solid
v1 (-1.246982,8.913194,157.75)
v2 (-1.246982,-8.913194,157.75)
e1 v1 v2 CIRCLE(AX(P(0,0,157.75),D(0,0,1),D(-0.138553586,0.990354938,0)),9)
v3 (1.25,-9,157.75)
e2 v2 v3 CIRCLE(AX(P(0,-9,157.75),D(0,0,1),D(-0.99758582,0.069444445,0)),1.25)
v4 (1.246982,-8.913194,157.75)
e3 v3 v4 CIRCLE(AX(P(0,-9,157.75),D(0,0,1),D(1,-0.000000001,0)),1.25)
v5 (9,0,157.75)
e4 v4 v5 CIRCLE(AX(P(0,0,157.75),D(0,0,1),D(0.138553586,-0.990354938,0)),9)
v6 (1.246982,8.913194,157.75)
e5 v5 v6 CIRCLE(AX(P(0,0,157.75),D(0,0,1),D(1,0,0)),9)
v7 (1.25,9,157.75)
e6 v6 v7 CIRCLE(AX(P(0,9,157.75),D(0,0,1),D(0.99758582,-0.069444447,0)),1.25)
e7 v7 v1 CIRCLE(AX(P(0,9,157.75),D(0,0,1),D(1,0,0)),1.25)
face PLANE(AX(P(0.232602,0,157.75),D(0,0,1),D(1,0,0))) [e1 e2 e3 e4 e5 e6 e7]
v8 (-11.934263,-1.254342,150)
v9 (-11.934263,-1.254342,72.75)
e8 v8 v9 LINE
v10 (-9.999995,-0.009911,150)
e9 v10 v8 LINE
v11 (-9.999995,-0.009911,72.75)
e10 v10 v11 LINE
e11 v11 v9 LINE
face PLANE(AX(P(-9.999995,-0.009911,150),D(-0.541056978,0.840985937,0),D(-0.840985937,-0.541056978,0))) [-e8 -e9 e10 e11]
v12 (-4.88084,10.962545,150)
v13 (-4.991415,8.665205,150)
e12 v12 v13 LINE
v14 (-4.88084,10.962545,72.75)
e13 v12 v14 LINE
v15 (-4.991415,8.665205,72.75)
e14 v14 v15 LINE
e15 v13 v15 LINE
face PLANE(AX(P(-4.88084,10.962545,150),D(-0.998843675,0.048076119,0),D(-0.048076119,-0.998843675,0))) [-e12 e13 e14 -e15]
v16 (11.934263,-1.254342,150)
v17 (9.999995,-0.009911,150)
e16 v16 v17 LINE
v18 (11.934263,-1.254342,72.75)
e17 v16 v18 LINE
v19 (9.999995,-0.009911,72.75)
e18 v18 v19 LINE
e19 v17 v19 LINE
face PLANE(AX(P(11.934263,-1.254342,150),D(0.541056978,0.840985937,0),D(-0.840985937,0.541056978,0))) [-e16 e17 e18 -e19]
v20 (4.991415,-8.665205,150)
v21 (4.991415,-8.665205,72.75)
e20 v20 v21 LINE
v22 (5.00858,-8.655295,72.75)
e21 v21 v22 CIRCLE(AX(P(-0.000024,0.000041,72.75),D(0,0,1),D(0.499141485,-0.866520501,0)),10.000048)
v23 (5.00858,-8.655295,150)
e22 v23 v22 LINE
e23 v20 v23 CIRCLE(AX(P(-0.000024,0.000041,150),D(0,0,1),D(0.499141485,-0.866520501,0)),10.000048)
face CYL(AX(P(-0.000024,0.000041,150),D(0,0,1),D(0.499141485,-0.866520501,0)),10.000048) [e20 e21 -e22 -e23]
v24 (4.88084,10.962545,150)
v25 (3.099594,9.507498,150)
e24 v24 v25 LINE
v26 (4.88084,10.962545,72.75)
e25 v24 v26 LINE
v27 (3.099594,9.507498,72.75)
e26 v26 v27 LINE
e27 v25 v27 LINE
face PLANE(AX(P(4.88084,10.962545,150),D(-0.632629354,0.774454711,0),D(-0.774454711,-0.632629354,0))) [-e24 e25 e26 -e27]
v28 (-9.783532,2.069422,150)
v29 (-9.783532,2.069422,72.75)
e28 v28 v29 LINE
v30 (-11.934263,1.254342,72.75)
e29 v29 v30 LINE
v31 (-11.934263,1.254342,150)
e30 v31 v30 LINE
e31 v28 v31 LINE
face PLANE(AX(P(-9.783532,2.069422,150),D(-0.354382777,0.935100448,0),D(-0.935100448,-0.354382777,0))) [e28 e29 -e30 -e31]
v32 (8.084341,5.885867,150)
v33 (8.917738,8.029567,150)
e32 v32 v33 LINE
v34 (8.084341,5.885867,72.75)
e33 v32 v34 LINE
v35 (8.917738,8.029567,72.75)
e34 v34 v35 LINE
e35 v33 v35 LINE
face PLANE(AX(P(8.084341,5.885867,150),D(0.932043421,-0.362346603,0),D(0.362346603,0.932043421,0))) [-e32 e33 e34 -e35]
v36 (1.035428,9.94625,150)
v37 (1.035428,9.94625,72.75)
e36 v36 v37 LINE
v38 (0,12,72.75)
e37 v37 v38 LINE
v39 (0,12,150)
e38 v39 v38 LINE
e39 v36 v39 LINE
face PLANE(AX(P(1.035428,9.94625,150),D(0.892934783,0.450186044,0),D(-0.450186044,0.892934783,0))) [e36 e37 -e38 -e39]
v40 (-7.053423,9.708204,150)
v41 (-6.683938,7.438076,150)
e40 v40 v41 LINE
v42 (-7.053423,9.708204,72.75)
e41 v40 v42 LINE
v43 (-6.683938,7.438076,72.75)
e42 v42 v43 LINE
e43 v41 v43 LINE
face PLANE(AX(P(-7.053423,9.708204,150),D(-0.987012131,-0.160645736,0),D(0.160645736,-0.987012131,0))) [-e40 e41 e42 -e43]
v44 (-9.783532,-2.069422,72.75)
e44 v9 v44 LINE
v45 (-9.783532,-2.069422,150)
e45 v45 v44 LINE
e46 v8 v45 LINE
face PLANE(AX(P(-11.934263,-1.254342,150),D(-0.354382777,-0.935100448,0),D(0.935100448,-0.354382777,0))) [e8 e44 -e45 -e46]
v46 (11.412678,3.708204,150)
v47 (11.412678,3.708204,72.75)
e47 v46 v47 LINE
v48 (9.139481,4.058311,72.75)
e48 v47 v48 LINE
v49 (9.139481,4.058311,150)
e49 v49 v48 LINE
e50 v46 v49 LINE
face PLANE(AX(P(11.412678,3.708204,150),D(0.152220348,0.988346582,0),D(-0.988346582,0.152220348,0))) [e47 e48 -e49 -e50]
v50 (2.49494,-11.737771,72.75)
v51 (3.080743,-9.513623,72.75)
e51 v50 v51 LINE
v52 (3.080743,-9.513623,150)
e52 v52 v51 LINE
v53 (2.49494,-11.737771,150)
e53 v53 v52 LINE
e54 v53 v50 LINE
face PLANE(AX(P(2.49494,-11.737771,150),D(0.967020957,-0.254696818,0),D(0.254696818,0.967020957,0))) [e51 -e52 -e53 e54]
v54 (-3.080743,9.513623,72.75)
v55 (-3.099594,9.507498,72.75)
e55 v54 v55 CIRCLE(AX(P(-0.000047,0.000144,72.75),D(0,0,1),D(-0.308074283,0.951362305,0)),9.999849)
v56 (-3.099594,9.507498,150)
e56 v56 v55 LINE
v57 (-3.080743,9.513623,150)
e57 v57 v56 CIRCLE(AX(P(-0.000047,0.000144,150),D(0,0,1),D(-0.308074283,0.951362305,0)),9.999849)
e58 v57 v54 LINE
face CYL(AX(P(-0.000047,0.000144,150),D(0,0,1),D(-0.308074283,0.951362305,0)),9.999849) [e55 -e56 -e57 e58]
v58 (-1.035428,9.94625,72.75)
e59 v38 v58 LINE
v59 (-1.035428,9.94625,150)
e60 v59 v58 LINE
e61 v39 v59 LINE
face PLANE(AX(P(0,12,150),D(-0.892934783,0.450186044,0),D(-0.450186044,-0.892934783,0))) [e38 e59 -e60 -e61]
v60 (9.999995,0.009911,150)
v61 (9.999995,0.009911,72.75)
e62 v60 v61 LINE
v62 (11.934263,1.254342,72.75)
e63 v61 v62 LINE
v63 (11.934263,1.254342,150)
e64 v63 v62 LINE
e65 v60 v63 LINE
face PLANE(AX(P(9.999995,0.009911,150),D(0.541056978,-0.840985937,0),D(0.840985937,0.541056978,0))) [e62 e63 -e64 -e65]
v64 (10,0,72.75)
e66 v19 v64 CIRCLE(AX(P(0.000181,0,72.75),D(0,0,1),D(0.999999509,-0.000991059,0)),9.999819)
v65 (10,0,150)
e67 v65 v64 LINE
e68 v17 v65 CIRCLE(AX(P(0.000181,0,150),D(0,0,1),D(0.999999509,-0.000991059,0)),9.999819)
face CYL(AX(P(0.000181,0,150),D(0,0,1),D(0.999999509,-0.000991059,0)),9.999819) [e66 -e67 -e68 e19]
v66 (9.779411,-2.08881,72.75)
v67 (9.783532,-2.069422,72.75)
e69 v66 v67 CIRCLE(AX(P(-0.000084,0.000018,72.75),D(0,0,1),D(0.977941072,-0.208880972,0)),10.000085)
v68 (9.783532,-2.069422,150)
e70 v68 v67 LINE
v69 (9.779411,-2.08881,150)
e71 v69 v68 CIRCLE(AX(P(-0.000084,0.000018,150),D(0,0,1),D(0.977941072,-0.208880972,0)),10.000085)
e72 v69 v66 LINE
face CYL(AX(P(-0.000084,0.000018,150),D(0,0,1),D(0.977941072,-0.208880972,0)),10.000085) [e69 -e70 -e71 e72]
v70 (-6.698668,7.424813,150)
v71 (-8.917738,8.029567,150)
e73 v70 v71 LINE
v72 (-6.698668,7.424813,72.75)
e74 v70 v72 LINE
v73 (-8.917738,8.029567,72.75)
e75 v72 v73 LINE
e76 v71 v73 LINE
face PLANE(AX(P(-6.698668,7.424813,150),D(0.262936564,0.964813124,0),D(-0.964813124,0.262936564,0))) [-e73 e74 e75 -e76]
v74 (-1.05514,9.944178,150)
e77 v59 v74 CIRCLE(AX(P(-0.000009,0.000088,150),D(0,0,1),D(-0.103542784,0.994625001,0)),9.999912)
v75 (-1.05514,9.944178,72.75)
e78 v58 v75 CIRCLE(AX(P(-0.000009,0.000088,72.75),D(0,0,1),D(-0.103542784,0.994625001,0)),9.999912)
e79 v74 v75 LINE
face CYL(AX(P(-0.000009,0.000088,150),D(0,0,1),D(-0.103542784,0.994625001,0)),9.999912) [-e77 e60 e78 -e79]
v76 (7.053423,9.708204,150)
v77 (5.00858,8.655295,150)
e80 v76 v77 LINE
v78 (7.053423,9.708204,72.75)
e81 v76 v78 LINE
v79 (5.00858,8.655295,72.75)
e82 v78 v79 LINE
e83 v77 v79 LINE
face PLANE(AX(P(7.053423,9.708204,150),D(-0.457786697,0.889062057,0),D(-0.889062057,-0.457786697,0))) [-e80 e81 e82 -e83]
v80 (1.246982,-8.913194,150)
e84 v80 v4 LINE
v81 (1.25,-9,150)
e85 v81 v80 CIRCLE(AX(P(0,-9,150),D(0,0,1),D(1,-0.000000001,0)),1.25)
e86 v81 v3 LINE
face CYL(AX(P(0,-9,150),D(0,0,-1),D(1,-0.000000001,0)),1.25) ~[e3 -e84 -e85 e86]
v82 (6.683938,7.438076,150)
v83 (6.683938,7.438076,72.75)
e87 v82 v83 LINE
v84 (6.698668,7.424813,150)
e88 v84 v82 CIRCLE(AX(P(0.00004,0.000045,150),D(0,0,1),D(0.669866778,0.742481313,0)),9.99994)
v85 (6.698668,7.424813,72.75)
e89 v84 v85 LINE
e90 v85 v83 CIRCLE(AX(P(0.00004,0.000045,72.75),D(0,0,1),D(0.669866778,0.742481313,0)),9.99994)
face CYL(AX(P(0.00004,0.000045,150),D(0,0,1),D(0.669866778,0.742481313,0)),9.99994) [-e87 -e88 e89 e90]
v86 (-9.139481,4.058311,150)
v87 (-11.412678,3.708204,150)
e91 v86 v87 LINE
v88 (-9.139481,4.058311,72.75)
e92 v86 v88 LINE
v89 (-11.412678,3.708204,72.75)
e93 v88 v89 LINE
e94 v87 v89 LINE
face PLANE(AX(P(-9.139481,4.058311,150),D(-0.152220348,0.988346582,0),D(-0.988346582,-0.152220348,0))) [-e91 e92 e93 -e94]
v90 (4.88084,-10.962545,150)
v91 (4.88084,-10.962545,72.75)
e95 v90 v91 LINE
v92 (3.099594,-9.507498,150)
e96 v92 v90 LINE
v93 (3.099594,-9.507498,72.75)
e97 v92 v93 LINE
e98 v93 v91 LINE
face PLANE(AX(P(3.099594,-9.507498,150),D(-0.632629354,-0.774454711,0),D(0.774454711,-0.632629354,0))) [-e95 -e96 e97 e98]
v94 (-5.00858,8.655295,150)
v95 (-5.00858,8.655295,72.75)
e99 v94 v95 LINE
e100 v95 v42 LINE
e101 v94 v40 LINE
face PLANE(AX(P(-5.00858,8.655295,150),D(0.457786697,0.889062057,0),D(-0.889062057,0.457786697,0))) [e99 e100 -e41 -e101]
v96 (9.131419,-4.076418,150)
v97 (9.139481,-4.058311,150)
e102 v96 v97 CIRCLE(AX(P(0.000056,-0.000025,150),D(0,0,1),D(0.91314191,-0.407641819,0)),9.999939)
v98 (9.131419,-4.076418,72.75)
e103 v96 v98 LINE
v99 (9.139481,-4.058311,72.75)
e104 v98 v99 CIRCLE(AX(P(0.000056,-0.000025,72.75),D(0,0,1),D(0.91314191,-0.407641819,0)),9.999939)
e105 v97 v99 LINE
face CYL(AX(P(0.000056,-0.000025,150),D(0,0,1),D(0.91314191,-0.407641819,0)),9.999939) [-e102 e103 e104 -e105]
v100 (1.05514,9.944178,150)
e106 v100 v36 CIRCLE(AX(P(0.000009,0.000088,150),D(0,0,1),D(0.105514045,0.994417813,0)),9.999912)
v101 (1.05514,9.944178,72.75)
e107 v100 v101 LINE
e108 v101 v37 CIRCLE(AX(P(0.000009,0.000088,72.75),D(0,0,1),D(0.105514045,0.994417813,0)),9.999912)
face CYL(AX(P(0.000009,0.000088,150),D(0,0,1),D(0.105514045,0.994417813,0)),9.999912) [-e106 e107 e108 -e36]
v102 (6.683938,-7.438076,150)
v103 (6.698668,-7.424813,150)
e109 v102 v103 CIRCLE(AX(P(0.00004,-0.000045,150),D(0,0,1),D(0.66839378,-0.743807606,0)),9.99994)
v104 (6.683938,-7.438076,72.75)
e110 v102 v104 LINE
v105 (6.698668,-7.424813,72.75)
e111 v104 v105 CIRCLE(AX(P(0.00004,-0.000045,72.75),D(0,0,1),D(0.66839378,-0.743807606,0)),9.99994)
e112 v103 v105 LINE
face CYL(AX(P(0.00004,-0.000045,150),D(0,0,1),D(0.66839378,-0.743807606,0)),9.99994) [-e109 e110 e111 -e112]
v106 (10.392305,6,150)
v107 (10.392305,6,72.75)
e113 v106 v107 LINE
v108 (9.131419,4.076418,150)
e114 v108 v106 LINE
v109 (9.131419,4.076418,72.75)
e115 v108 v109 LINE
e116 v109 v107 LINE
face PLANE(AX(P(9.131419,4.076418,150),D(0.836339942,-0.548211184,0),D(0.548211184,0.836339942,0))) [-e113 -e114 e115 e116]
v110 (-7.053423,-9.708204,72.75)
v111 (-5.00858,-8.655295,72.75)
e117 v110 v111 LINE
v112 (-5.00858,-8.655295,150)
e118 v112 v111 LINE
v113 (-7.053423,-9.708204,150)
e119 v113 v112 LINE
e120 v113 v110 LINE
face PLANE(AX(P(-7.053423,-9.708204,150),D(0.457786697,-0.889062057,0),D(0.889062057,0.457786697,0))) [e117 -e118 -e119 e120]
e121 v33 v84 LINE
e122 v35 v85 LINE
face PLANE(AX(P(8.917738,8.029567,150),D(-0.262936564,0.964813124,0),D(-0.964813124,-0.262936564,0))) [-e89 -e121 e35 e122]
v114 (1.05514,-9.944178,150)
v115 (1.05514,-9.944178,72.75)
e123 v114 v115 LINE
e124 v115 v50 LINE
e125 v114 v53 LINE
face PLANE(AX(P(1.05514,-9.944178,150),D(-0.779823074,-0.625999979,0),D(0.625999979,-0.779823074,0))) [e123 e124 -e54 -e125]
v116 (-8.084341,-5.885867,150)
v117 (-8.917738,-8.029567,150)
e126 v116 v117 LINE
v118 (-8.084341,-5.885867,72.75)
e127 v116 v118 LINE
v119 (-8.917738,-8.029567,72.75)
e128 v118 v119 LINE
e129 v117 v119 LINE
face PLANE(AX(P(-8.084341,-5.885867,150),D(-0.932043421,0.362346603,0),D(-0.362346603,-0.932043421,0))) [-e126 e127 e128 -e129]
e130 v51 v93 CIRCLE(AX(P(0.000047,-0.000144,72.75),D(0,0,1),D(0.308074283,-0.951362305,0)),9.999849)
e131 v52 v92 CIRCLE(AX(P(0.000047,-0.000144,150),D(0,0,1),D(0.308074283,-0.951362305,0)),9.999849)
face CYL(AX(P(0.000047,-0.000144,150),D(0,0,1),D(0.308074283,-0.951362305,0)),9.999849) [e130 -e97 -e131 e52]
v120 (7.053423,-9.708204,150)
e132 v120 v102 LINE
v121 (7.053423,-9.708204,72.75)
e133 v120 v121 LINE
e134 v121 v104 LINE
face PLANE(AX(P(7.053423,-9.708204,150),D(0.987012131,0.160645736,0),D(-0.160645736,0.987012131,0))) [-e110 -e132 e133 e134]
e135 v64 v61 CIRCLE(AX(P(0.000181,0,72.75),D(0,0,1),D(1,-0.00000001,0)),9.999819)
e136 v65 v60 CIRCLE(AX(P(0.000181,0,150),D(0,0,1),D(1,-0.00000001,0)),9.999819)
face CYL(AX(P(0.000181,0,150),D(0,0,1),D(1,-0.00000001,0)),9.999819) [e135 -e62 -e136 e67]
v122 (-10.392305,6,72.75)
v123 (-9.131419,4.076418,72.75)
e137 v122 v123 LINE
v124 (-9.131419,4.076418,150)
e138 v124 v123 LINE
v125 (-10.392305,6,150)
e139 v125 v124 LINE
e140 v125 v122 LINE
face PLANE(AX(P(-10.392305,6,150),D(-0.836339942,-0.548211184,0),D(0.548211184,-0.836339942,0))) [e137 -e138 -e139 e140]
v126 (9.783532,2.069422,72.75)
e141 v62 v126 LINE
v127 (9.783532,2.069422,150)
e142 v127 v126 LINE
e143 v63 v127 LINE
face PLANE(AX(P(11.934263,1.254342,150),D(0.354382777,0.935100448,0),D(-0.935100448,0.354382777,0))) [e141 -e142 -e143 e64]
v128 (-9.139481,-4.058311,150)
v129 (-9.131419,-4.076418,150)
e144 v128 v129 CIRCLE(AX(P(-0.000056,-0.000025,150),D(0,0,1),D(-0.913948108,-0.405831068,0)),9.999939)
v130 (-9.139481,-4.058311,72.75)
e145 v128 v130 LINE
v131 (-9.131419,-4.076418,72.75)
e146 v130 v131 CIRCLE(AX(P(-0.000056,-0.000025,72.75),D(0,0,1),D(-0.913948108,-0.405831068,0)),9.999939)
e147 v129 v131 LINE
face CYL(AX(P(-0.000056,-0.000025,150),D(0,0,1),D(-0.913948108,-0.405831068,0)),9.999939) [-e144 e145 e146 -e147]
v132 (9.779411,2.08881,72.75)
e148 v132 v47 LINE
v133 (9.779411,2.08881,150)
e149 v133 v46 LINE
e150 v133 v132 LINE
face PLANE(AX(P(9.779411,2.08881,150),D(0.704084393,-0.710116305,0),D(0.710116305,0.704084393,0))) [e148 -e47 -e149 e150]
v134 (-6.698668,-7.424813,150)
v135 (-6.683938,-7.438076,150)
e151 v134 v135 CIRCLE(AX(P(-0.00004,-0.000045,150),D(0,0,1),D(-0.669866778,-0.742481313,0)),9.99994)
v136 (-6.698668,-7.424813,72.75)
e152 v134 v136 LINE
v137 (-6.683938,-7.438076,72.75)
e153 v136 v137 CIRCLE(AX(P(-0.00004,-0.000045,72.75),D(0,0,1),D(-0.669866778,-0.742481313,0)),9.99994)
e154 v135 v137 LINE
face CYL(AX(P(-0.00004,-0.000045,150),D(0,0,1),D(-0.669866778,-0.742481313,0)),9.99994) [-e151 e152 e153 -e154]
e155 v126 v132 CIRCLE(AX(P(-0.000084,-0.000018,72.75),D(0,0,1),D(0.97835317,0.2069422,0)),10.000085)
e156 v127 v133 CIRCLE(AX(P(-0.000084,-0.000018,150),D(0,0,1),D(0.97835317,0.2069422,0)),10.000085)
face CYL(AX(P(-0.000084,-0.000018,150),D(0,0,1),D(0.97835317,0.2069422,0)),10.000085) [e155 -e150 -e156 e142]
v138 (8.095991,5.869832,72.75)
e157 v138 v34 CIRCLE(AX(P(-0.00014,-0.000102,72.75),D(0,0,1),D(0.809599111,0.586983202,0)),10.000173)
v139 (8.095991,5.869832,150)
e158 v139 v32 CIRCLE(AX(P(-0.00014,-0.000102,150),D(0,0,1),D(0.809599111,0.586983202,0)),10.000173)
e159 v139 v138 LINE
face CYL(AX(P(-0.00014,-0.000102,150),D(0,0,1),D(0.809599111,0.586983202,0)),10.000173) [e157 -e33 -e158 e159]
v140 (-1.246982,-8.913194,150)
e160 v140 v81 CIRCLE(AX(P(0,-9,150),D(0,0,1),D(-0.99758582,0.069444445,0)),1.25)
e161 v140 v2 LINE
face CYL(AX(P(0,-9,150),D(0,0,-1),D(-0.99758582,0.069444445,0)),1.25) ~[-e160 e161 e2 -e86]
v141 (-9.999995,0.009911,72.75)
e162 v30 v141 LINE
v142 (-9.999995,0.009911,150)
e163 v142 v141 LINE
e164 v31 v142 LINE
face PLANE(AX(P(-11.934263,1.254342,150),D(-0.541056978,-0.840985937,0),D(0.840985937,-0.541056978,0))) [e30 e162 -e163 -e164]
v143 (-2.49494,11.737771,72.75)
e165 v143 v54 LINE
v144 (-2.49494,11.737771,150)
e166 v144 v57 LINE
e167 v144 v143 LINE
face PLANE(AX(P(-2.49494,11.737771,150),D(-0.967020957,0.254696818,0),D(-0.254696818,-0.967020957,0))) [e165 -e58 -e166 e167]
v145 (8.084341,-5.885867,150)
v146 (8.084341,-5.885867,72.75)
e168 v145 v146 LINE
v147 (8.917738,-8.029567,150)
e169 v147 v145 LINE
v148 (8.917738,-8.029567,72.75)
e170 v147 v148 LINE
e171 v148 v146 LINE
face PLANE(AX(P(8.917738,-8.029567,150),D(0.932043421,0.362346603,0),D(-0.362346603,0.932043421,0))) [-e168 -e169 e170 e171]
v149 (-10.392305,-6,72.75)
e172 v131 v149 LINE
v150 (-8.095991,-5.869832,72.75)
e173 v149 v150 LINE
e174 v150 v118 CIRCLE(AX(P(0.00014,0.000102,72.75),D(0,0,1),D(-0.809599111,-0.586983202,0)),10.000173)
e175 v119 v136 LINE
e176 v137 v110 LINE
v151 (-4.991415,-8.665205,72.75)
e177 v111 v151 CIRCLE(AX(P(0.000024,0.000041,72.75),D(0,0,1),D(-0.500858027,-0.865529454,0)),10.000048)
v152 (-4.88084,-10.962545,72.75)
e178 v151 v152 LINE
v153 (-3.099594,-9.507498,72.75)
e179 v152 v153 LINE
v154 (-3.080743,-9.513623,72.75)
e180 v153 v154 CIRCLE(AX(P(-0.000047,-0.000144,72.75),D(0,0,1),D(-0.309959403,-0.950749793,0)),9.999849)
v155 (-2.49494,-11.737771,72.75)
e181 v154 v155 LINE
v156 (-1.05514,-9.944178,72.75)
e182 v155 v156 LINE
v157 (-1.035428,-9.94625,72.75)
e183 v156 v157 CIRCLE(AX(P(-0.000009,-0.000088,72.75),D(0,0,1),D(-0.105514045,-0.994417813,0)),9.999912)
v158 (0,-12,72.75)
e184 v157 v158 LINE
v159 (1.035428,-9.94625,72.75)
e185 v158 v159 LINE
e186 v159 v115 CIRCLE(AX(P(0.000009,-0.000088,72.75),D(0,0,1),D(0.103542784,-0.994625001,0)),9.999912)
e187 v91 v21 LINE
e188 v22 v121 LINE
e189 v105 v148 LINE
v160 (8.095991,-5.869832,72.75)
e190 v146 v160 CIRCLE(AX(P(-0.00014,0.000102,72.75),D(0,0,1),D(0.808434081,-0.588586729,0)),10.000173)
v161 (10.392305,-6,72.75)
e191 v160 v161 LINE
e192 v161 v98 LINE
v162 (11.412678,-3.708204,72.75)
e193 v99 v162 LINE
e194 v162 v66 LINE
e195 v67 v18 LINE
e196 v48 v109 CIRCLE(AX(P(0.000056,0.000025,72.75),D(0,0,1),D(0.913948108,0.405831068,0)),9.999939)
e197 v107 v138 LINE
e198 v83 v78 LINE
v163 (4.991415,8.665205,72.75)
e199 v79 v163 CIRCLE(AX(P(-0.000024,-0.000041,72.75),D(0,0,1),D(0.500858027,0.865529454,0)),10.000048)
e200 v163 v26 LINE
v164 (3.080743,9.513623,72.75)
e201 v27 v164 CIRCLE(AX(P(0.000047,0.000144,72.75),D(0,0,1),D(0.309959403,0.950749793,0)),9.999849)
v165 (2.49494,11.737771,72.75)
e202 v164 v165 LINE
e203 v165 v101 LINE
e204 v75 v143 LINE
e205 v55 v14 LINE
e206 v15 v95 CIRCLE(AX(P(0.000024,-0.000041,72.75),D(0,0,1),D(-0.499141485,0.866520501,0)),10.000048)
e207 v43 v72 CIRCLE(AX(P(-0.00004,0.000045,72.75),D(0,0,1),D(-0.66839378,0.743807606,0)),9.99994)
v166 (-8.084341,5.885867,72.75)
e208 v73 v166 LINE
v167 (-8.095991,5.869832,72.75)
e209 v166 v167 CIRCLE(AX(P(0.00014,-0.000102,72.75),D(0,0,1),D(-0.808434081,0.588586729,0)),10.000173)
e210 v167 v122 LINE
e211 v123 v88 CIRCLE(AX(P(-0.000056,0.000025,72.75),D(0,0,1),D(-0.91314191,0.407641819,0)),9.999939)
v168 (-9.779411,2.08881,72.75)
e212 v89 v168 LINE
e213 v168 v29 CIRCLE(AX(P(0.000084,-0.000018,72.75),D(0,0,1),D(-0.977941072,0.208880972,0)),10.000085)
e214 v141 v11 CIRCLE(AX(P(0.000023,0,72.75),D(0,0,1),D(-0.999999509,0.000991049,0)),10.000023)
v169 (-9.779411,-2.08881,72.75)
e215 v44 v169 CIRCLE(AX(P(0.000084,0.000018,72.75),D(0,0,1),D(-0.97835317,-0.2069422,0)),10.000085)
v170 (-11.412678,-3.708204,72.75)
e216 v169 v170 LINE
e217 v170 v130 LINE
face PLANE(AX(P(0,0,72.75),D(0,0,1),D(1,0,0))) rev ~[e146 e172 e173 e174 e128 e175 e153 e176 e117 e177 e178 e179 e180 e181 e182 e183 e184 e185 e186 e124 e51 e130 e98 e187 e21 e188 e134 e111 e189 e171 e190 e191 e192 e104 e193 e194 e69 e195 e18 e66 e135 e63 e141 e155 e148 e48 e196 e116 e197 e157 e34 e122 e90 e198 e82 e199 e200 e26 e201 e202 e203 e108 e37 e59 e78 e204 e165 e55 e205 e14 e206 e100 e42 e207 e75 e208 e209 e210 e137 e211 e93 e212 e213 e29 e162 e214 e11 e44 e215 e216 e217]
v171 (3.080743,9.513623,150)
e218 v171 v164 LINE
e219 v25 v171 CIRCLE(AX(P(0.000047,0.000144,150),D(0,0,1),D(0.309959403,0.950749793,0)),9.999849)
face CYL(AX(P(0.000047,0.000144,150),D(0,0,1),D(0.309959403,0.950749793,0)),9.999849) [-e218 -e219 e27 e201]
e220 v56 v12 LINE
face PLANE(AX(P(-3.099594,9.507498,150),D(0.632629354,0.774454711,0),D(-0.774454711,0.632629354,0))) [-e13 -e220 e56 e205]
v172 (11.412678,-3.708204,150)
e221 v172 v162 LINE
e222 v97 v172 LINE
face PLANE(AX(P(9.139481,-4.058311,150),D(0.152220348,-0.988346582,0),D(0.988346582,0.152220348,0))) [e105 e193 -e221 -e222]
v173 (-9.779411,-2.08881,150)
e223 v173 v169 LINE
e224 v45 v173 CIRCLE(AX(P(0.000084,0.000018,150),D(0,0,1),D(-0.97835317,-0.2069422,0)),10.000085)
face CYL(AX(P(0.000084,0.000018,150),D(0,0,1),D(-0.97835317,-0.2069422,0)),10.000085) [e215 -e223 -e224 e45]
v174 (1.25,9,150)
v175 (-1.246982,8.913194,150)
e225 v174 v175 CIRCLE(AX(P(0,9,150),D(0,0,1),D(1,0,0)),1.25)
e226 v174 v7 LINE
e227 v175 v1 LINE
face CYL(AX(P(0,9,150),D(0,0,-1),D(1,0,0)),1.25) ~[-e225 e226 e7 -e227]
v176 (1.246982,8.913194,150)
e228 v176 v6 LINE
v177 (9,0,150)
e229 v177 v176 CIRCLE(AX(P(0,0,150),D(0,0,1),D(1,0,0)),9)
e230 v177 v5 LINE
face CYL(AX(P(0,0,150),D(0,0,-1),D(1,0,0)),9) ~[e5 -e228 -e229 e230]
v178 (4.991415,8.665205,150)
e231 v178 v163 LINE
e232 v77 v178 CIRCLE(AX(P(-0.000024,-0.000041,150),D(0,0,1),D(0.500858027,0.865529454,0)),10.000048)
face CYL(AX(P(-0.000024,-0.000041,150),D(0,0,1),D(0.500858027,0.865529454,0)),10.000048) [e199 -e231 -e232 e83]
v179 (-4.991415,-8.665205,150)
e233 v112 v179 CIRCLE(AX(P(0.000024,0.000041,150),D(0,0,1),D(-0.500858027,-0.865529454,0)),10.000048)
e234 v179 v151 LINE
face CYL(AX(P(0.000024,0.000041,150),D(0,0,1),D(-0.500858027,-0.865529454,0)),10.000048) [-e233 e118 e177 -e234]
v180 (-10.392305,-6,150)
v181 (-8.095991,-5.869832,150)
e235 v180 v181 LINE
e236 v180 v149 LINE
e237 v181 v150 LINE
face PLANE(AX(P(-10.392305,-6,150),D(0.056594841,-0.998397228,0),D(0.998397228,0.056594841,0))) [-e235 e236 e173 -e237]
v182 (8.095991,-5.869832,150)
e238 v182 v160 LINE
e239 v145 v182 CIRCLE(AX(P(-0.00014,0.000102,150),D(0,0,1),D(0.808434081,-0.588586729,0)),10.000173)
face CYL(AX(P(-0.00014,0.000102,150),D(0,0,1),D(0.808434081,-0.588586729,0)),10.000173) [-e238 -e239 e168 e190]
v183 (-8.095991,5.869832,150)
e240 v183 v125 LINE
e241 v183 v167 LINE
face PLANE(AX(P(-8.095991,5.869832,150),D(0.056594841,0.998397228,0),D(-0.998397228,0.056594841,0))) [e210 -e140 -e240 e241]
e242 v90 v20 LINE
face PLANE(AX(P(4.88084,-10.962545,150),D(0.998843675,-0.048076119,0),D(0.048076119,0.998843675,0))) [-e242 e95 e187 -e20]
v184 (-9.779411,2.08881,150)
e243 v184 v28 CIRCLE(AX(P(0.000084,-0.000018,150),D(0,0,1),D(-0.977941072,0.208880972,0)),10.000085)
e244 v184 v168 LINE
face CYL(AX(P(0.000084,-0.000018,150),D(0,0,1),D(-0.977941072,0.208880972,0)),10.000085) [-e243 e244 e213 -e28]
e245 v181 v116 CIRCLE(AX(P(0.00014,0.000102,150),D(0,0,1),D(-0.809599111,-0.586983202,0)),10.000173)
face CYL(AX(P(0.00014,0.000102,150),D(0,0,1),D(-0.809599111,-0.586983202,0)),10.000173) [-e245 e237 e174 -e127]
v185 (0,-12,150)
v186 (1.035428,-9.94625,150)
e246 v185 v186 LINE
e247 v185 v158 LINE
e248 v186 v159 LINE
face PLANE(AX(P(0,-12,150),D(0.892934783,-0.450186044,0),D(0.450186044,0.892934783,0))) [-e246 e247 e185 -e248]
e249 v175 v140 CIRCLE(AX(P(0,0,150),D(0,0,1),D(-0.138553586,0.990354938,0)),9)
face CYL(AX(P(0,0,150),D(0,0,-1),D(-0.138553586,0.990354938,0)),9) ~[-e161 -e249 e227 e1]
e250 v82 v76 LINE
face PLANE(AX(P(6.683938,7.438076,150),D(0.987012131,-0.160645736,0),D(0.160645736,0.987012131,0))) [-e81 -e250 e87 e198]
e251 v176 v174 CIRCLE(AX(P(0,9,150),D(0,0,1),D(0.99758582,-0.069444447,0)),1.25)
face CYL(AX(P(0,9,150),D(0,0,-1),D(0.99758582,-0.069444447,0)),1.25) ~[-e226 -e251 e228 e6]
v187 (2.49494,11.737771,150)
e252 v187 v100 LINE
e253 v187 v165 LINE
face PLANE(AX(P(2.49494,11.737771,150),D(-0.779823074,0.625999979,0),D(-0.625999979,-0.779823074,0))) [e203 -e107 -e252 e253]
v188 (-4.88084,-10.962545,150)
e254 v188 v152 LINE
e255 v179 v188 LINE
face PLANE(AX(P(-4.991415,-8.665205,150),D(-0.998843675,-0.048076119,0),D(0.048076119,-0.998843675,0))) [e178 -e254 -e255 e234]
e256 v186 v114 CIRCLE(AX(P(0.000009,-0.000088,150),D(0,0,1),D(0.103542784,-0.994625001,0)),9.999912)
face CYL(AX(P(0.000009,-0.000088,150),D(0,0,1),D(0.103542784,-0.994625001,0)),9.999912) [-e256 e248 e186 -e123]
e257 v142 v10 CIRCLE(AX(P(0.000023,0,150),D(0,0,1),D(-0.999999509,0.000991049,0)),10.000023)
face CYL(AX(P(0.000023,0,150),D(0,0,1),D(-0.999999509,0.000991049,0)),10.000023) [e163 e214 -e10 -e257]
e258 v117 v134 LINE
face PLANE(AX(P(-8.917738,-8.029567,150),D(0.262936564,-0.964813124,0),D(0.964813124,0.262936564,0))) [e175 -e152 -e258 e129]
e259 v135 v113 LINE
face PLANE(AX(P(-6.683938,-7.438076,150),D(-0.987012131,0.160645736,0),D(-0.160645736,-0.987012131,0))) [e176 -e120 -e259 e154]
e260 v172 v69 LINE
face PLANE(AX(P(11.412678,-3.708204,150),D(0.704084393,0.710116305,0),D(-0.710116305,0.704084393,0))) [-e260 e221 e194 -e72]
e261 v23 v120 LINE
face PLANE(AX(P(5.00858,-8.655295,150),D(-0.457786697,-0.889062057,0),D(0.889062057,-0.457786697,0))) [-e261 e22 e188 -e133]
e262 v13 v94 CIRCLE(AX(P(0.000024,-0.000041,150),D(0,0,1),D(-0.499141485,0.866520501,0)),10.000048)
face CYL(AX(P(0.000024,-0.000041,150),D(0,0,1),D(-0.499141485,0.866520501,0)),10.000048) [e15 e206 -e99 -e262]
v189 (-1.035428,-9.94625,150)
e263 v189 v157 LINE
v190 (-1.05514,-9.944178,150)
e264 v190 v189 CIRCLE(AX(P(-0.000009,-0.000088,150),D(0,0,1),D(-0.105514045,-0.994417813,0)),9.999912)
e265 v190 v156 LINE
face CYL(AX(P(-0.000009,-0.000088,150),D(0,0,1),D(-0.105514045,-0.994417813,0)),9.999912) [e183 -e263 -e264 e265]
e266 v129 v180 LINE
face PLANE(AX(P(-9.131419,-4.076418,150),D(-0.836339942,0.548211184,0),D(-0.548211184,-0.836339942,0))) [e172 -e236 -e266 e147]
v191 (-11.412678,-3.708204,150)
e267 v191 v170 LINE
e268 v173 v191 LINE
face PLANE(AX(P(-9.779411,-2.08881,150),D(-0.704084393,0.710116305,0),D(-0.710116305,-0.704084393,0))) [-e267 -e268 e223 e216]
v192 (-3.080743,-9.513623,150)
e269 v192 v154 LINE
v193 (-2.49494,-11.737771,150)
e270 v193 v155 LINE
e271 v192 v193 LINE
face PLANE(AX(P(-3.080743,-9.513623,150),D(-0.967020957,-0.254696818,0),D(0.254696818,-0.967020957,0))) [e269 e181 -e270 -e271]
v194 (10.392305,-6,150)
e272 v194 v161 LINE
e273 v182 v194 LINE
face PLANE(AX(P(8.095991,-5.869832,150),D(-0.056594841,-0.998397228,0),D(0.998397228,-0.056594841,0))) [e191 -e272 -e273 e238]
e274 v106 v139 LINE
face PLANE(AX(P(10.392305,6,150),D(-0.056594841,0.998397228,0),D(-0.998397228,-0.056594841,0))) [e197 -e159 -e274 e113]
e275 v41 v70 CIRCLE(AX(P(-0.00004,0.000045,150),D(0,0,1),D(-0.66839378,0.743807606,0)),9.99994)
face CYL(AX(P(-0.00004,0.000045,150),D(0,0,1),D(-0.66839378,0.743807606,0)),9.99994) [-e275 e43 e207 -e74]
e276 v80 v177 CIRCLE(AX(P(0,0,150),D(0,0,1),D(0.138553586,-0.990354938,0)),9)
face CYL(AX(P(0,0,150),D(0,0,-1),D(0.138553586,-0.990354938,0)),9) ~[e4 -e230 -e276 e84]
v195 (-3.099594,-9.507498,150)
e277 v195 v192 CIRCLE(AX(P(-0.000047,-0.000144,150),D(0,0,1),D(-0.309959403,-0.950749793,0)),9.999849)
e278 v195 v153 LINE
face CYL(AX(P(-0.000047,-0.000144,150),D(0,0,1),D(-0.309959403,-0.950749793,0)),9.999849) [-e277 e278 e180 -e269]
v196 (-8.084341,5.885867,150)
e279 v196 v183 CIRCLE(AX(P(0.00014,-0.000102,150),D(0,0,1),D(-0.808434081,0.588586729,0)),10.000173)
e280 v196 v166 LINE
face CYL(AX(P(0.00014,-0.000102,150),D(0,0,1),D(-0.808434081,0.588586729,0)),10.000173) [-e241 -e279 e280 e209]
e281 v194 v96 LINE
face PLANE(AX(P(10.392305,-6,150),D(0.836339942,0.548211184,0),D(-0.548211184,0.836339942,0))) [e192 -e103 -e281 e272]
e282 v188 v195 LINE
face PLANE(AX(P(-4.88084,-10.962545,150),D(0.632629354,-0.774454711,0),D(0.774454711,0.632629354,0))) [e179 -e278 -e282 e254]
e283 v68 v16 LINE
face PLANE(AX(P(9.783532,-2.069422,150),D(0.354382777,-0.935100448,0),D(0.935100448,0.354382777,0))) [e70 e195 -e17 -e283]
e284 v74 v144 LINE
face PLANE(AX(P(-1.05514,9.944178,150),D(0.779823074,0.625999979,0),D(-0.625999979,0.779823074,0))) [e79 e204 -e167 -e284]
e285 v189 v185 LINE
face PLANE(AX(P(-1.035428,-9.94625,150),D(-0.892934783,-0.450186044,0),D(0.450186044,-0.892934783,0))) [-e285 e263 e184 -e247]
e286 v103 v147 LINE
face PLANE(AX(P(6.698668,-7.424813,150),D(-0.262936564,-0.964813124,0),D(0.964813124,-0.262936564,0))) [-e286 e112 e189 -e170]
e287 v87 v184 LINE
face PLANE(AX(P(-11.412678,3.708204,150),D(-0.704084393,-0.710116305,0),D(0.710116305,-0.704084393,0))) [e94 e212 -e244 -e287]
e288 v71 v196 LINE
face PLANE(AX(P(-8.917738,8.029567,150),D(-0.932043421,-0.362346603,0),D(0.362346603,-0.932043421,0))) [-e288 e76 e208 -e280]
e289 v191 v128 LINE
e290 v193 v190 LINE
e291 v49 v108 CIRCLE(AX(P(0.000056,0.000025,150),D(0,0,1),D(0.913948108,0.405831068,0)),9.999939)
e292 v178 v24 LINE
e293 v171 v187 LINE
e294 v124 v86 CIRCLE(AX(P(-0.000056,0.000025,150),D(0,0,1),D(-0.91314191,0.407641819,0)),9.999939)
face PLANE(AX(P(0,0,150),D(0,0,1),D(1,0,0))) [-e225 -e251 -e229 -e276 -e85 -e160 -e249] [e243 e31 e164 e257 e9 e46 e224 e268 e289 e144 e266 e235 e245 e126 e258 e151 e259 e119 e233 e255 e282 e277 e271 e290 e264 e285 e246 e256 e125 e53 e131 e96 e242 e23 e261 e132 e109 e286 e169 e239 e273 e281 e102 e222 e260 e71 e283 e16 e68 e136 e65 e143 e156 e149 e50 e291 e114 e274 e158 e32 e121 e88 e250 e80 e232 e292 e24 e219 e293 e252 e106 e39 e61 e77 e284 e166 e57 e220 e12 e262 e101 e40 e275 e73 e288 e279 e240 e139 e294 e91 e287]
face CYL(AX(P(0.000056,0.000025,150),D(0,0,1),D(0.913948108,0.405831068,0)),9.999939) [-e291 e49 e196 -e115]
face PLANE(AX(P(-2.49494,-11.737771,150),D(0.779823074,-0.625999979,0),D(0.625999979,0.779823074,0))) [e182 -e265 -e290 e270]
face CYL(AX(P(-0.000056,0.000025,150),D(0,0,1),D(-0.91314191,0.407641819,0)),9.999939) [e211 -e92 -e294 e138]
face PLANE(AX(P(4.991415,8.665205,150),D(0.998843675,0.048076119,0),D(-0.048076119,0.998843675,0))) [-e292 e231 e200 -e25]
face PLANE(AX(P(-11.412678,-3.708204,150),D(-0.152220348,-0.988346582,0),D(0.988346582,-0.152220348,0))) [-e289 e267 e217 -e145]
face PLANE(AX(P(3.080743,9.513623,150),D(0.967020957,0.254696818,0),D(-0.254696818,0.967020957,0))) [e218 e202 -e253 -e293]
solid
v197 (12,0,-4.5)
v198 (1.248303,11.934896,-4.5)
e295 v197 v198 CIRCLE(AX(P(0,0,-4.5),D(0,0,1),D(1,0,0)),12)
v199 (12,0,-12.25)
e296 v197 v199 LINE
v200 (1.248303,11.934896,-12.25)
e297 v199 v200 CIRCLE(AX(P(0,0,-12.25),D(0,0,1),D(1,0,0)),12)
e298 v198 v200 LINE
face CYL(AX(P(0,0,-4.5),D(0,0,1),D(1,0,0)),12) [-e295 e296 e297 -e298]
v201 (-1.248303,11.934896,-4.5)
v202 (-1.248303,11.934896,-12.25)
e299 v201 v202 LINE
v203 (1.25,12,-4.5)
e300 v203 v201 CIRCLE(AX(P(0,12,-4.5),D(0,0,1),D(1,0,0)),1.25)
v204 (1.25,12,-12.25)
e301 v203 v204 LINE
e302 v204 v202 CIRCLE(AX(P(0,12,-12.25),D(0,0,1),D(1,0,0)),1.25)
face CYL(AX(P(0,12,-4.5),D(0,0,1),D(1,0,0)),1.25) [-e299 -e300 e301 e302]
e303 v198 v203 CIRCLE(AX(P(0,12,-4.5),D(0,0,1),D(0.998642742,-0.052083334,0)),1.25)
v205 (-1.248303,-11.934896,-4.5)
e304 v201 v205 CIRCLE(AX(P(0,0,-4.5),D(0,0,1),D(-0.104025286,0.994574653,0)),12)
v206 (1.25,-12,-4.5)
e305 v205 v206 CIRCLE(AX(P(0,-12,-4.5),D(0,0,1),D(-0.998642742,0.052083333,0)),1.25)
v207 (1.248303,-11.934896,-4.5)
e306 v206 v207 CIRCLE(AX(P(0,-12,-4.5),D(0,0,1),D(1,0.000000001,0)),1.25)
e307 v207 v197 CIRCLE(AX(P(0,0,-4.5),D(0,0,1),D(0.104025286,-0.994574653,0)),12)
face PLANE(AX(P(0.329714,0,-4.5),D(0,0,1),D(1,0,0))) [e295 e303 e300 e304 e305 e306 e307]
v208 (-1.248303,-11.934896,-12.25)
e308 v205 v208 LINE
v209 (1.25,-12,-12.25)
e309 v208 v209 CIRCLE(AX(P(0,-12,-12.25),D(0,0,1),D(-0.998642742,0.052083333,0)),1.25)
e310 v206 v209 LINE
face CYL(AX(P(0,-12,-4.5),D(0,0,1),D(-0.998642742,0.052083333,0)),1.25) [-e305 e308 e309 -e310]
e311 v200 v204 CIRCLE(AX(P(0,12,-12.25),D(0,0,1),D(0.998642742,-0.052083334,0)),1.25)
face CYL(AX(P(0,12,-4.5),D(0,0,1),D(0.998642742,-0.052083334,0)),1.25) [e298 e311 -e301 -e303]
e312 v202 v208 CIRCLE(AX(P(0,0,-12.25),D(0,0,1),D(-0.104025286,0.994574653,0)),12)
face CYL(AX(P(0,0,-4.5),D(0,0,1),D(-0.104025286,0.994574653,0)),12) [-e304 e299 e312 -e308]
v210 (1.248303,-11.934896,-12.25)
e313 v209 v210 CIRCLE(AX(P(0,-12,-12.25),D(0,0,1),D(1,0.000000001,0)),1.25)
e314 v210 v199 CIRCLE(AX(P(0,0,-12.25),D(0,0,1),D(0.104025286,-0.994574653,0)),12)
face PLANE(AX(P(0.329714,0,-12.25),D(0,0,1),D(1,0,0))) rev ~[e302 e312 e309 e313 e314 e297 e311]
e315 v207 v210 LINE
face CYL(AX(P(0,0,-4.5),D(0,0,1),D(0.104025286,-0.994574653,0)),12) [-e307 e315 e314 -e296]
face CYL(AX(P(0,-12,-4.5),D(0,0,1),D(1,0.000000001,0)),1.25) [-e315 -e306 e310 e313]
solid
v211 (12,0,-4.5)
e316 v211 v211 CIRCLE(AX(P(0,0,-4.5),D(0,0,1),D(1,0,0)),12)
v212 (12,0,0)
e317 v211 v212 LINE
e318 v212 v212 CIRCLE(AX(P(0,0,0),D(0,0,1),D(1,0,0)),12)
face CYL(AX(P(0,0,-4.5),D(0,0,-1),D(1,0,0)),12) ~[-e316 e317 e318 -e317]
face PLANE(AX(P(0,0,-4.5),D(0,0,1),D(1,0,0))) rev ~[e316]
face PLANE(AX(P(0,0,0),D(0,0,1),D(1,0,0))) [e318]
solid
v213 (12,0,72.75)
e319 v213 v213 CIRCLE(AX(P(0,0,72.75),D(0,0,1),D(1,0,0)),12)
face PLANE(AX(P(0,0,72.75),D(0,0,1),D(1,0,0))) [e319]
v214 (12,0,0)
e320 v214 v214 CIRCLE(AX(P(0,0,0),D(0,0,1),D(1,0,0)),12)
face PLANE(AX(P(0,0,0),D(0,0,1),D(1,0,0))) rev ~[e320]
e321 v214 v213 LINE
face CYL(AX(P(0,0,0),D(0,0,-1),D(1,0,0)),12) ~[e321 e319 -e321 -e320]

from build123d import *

# Parameters (mm, degrees)
F0_R      = 12
F1_DEPTH  = 72.75
F5_DEPTH  = 7.75
F7_DEPTH  = 77.25
F10_DEPTH = 7.75
F11_R     = 12
F12_DEPTH = 4.5


with BuildPart() as f1:
    # F0 (on Top) → F1 (new body)
    with BuildSketch(Plane.XY):
        Circle(F0_R)
    extrude(amount=F1_DEPTH)


with BuildPart() as f5:
    # F4 (on offset) → F5 (new body)
    with BuildSketch(Plane.XY.offset(150)):
        with BuildLine():
            ThreePointArc((1.2469822755, -8.9131944444), (6.7905390243, -5.9066555478), (9, 0))
            ThreePointArc((9, 0), (6.7905390243, 5.9066555478), (1.2469822755, 8.9131944444))
            ThreePointArc((1.2469822755, 8.9131944444), (0, 7.75), (-1.2469822755, 8.9131944444))
            ThreePointArc((-1.2469822755, 8.9131944444), (-9, 0), (-1.2469822755, -8.9131944444))
            ThreePointArc((-1.2469822755, -8.9131944444), (0, -7.75), (1.2469822755, -8.9131944444))
        make_face()
        with BuildLine():
            ThreePointArc((-1.2469822755, 8.9131944444), (0, 7.75), (1.2469822755, 8.9131944444))
            ThreePointArc((1.2469822755, 8.9131944444), (0, 9), (-1.2469822755, 8.9131944444))
        make_face()
        with BuildLine():
            ThreePointArc((-1.2469822755, 8.9131944444), (0, 9), (1.2469822755, 8.9131944444))
            ThreePointArc((1.2469822755, 8.9131944444), (1.2492453411, 8.956571003), (1.25, 9))
            ThreePointArc((1.25, 9), (-0.043428997, 10.2492453411), (-1.2469822755, 8.9131944444))
        make_face()
        with BuildLine():
            ThreePointArc((1.25, -9), (1.2492453411, -8.956571003), (1.2469822755, -8.9131944444))
            ThreePointArc((1.2469822755, -8.9131944444), (0, -9), (-1.2469822755, -8.9131944444))
            ThreePointArc((-1.2469822755, -8.9131944444), (-0.043428997, -10.2492453411), (1.25, -9))
        make_face()
        with BuildLine():
            ThreePointArc((-1.2469822755, -8.9131944444), (0, -9), (1.2469822755, -8.9131944444))
            ThreePointArc((1.2469822755, -8.9131944444), (0, -7.75), (-1.2469822755, -8.9131944444))
        make_face()
    extrude(amount=F5_DEPTH)

    # F6 (on offset) → F7 (join)
    with BuildSketch(Plane.XY.offset(150)):
        with BuildLine():
            ThreePointArc((9.9999950891, -0.0099105095), (9.9999987723, -0.0049552553), (10, 0))
            ThreePointArc((10, 0), (9.9999987723, 0.0049552553), (9.9999950891, 0.0099105095))
            ThreePointArc((9.9999950891, 0.0099105095), (9.9452189537, 1.0452846327), (9.7835317145, 2.0694219461))
            ThreePointArc((9.7835317145, 2.0694219461), (9.7814760073, 2.0791169082), (9.779410693, 2.0888098282))
            ThreePointArc((9.779410693, 2.0888098282), (9.510565163, 3.0901699437), (9.1394810574, 4.0583107324))
            ThreePointArc((9.1394810574, 4.0583107324), (9.1354545764, 4.0673664308), (9.1314191227, 4.0764181342))
            ThreePointArc((9.1314191227, 4.0764181342), (8.6602540378, 5), (8.0959912221, 5.8698318658))
            ThreePointArc((8.0959912221, 5.8698318658), (8.0901699437, 5.8778525229), (8.0843407194, 5.885867407))
            ThreePointArc((8.0843407194, 5.885867407), (7.4314482548, 6.6913060636), (6.6986677214, 7.42481318))
            ThreePointArc((6.6986677214, 7.42481318), (6.6913060636, 7.4314482548), (6.6839378337, 7.4380760305))
            ThreePointArc((6.6839378337, 7.4380760305), (5.8778525229, 8.0901699437), (5.0085802975, 8.6552945301))
            ThreePointArc((5.0085802975, 8.6552945301), (5, 8.6602540378), (4.9914147916, 8.6652050396))
            ThreePointArc((4.9914147916, 8.6652050396), (4.0673664308, 9.1354545764), (3.0995938808, 9.5074979765))
            ThreePointArc((3.0995938808, 9.5074979765), (3.0901699437, 9.510565163), (3.0807429716, 9.5136230082))
            ThreePointArc((3.0807429716, 9.5136230082), (2.0791169082, 9.7814760073), (1.055140338, 9.9441781393))
            ThreePointArc((1.055140338, 9.9441781393), (1.0452846327, 9.9452189537), (1.0354279007, 9.94625))
            ThreePointArc((1.0354279007, 9.94625), (0, 10), (-1.0354279007, 9.94625))
            ThreePointArc((-1.0354279007, 9.94625), (-1.0452846327, 9.9452189537), (-1.055140338, 9.9441781393))
            ThreePointArc((-1.055140338, 9.9441781393), (-2.0791169082, 9.7814760073), (-3.0807429716, 9.5136230082))
            ThreePointArc((-3.0807429716, 9.5136230082), (-3.0901699437, 9.510565163), (-3.0995938808, 9.5074979765))
            ThreePointArc((-3.0995938808, 9.5074979765), (-4.0673664308, 9.1354545764), (-4.9914147916, 8.6652050396))
            ThreePointArc((-4.9914147916, 8.6652050396), (-5, 8.6602540378), (-5.0085802975, 8.6552945301))
            ThreePointArc((-5.0085802975, 8.6552945301), (-5.8778525229, 8.0901699437), (-6.6839378337, 7.4380760305))
            ThreePointArc((-6.6839378337, 7.4380760305), (-6.6913060636, 7.4314482548), (-6.6986677214, 7.42481318))
            ThreePointArc((-6.6986677214, 7.42481318), (-7.4314482548, 6.6913060636), (-8.0843407194, 5.885867407))
            ThreePointArc((-8.0843407194, 5.885867407), (-8.0901699437, 5.8778525229), (-8.0959912221, 5.8698318658))
            ThreePointArc((-8.0959912221, 5.8698318658), (-8.6602540378, 5), (-9.1314191227, 4.0764181342))
            ThreePointArc((-9.1314191227, 4.0764181342), (-9.1354545764, 4.0673664308), (-9.1394810574, 4.0583107324))
            ThreePointArc((-9.1394810574, 4.0583107324), (-9.510565163, 3.0901699437), (-9.779410693, 2.0888098282))
            ThreePointArc((-9.779410693, 2.0888098282), (-9.7814760073, 2.0791169082), (-9.7835317145, 2.0694219461))
            ThreePointArc((-9.7835317145, 2.0694219461), (-9.9452189537, 1.0452846327), (-9.9999950891, 0.0099105095))
            ThreePointArc((-9.9999950891, 0.0099105095), (-10, 0), (-9.9999950891, -0.0099105095))
            ThreePointArc((-9.9999950891, -0.0099105095), (-9.9452189537, -1.0452846327), (-9.7835317145, -2.0694219461))
            ThreePointArc((-9.7835317145, -2.0694219461), (-9.7814760073, -2.0791169082), (-9.779410693, -2.0888098282))
            ThreePointArc((-9.779410693, -2.0888098282), (-9.510565163, -3.0901699437), (-9.1394810574, -4.0583107324))
            ThreePointArc((-9.1394810574, -4.0583107324), (-9.1354545764, -4.0673664308), (-9.1314191227, -4.0764181342))
            ThreePointArc((-9.1314191227, -4.0764181342), (-8.6602540378, -5), (-8.0959912221, -5.8698318658))
            ThreePointArc((-8.0959912221, -5.8698318658), (-8.0901699437, -5.8778525229), (-8.0843407194, -5.885867407))
            ThreePointArc((-8.0843407194, -5.885867407), (-7.4314482548, -6.6913060636), (-6.6986677214, -7.42481318))
            ThreePointArc((-6.6986677214, -7.42481318), (-6.6913060636, -7.4314482548), (-6.6839378337, -7.4380760305))
            ThreePointArc((-6.6839378337, -7.4380760305), (-5.8778525229, -8.0901699437), (-5.0085802975, -8.6552945301))
            ThreePointArc((-5.0085802975, -8.6552945301), (-5, -8.6602540378), (-4.9914147916, -8.6652050396))
            ThreePointArc((-4.9914147916, -8.6652050396), (-4.0673664308, -9.1354545764), (-3.0995938808, -9.5074979765))
            ThreePointArc((-3.0995938808, -9.5074979765), (-3.0901699437, -9.510565163), (-3.0807429716, -9.5136230082))
            ThreePointArc((-3.0807429716, -9.5136230082), (-2.0791169082, -9.7814760073), (-1.055140338, -9.9441781393))
            ThreePointArc((-1.055140338, -9.9441781393), (-1.0452846327, -9.9452189537), (-1.0354279007, -9.94625))
            ThreePointArc((-1.0354279007, -9.94625), (0, -10), (1.0354279007, -9.94625))
            ThreePointArc((1.0354279007, -9.94625), (1.0452846327, -9.9452189537), (1.055140338, -9.9441781393))
            ThreePointArc((1.055140338, -9.9441781393), (2.0791169082, -9.7814760073), (3.0807429716, -9.5136230082))
            ThreePointArc((3.0807429716, -9.5136230082), (3.0901699437, -9.510565163), (3.0995938808, -9.5074979765))
            ThreePointArc((3.0995938808, -9.5074979765), (4.0673664308, -9.1354545764), (4.9914147916, -8.6652050396))
            ThreePointArc((4.9914147916, -8.6652050396), (5, -8.6602540378), (5.0085802975, -8.6552945301))
            ThreePointArc((5.0085802975, -8.6552945301), (5.8778525229, -8.0901699437), (6.6839378337, -7.4380760305))
            ThreePointArc((6.6839378337, -7.4380760305), (6.6913060636, -7.4314482548), (6.6986677214, -7.42481318))
            ThreePointArc((6.6986677214, -7.42481318), (7.4314482548, -6.6913060636), (8.0843407194, -5.885867407))
            ThreePointArc((8.0843407194, -5.885867407), (8.0901699437, -5.8778525229), (8.0959912221, -5.8698318658))
            ThreePointArc((8.0959912221, -5.8698318658), (8.6602540378, -5), (9.1314191227, -4.0764181342))
            ThreePointArc((9.1314191227, -4.0764181342), (9.1354545764, -4.0673664308), (9.1394810574, -4.0583107324))
            ThreePointArc((9.1394810574, -4.0583107324), (9.510565163, -3.0901699437), (9.779410693, -2.0888098282))
            ThreePointArc((9.779410693, -2.0888098282), (9.7814760073, -2.0791169082), (9.7835317145, -2.0694219461))
            ThreePointArc((9.7835317145, -2.0694219461), (9.9452189537, -1.0452846327), (9.9999950891, -0.0099105095))
        make_face()
        with BuildLine():
            ThreePointArc((9.7835317145, 2.0694219461), (9.9452189537, 1.0452846327), (9.9999950891, 0.0099105095))
            Line((9.9999950891, 0.0099105095), (11.9342627444, 1.2543415592))
            Line((11.9342627444, 1.2543415592), (9.7835317145, 2.0694219461))
        make_face()
        with BuildLine():
            Line((11.9342627444, -1.2543415592), (9.9999950891, -0.0099105095))
            ThreePointArc((9.9999950891, -0.0099105095), (9.9452189537, -1.0452846327), (9.7835317145, -2.0694219461))
            Line((9.7835317145, -2.0694219461), (11.9342627444, -1.2543415592))
        make_face()
        with BuildLine():
            ThreePointArc((9.1394810574, 4.0583107324), (9.510565163, 3.0901699437), (9.779410693, 2.0888098282))
            Line((9.779410693, 2.0888098282), (11.4126781955, 3.7082039325))
            Line((11.4126781955, 3.7082039325), (9.1394810574, 4.0583107324))
        make_face()
        with BuildLine():
            Line((11.4126781955, -3.7082039325), (9.779410693, -2.0888098282))
            ThreePointArc((9.779410693, -2.0888098282), (9.510565163, -3.0901699437), (9.1394810574, -4.0583107324))
            Line((9.1394810574, -4.0583107324), (11.4126781955, -3.7082039325))
        make_face()
        with BuildLine():
            ThreePointArc((8.0959912221, 5.8698318658), (8.6602540378, 5), (9.1314191227, 4.0764181342))
            Line((9.1314191227, 4.0764181342), (10.3923048454, 6))
            Line((10.3923048454, 6), (8.0959912221, 5.8698318658))
        make_face()
        with BuildLine():
            Line((10.3923048454, -6), (9.1314191227, -4.0764181342))
            ThreePointArc((9.1314191227, -4.0764181342), (8.6602540378, -5), (8.0959912221, -5.8698318658))
            Line((8.0959912221, -5.8698318658), (10.3923048454, -6))
        make_face()
        with BuildLine():
            ThreePointArc((6.6986677214, 7.42481318), (7.4314482548, 6.6913060636), (8.0843407194, 5.885867407))
            Line((8.0843407194, 5.885867407), (8.9177379057, 8.0295672763))
            Line((8.9177379057, 8.0295672763), (6.6986677214, 7.42481318))
        make_face()
        with BuildLine():
            Line((8.9177379057, -8.0295672763), (8.0843407194, -5.885867407))
            ThreePointArc((8.0843407194, -5.885867407), (7.4314482548, -6.6913060636), (6.6986677214, -7.42481318))
            Line((6.6986677214, -7.42481318), (8.9177379057, -8.0295672763))
        make_face()
        with BuildLine():
            ThreePointArc((5.0085802975, 8.6552945301), (5.8778525229, 8.0901699437), (6.6839378337, 7.4380760305))
            Line((6.6839378337, 7.4380760305), (7.0534230275, 9.7082039325))
            Line((7.0534230275, 9.7082039325), (5.0085802975, 8.6552945301))
        make_face()
        with BuildLine():
            Line((7.0534230275, -9.7082039325), (6.6839378337, -7.4380760305))
            ThreePointArc((6.6839378337, -7.4380760305), (5.8778525229, -8.0901699437), (5.0085802975, -8.6552945301))
            Line((5.0085802975, -8.6552945301), (7.0534230275, -9.7082039325))
        make_face()
        with BuildLine():
            ThreePointArc((3.0995938808, 9.5074979765), (4.0673664308, 9.1354545764), (4.9914147916, 8.6652050396))
            Line((4.9914147916, 8.6652050396), (4.8808397169, 10.9625454917))
            Line((4.8808397169, 10.9625454917), (3.0995938808, 9.5074979765))
        make_face()
        with BuildLine():
            Line((4.8808397169, -10.9625454917), (4.9914147916, -8.6652050396))
            ThreePointArc((4.9914147916, -8.6652050396), (4.0673664308, -9.1354545764), (3.0995938808, -9.5074979765))
            Line((3.0995938808, -9.5074979765), (4.8808397169, -10.9625454917))
        make_face()
        with BuildLine():
            ThreePointArc((1.055140338, 9.9441781393), (2.0791169082, 9.7814760073), (3.0807429716, 9.5136230082))
            Line((3.0807429716, 9.5136230082), (2.4949402898, 11.7377712088))
            Line((2.4949402898, 11.7377712088), (1.055140338, 9.9441781393))
        make_face()
        with BuildLine():
            Line((2.4949402898, -11.7377712088), (3.0807429716, -9.5136230082))
            ThreePointArc((3.0807429716, -9.5136230082), (2.0791169082, -9.7814760073), (1.055140338, -9.9441781393))
            Line((1.055140338, -9.9441781393), (2.4949402898, -11.7377712088))
        make_face()
        with BuildLine():
            ThreePointArc((-1.0354279007, 9.94625), (0, 10), (1.0354279007, 9.94625))
            Line((1.0354279007, 9.94625), (0, 12))
            Line((0, 12), (-1.0354279007, 9.94625))
        make_face()
        with BuildLine():
            Line((0, -12), (1.0354279007, -9.94625))
            ThreePointArc((1.0354279007, -9.94625), (0, -10), (-1.0354279007, -9.94625))
            Line((-1.0354279007, -9.94625), (0, -12))
        make_face()
        with BuildLine():
            ThreePointArc((-3.0807429716, 9.5136230082), (-2.0791169082, 9.7814760073), (-1.055140338, 9.9441781393))
            Line((-1.055140338, 9.9441781393), (-2.4949402898, 11.7377712088))
            Line((-2.4949402898, 11.7377712088), (-3.0807429716, 9.5136230082))
        make_face()
        with BuildLine():
            Line((-2.4949402898, -11.7377712088), (-1.055140338, -9.9441781393))
            ThreePointArc((-1.055140338, -9.9441781393), (-2.0791169082, -9.7814760073), (-3.0807429716, -9.5136230082))
            Line((-3.0807429716, -9.5136230082), (-2.4949402898, -11.7377712088))
        make_face()
        with BuildLine():
            ThreePointArc((-4.9914147916, 8.6652050396), (-4.0673664308, 9.1354545764), (-3.0995938808, 9.5074979765))
            Line((-3.0995938808, 9.5074979765), (-4.8808397169, 10.9625454917))
            Line((-4.8808397169, 10.9625454917), (-4.9914147916, 8.6652050396))
        make_face()
        with BuildLine():
            Line((-4.8808397169, -10.9625454917), (-3.0995938808, -9.5074979765))
            ThreePointArc((-3.0995938808, -9.5074979765), (-4.0673664308, -9.1354545764), (-4.9914147916, -8.6652050396))
            Line((-4.9914147916, -8.6652050396), (-4.8808397169, -10.9625454917))
        make_face()
        with BuildLine():
            ThreePointArc((-6.6839378337, 7.4380760305), (-5.8778525229, 8.0901699437), (-5.0085802975, 8.6552945301))
            Line((-5.0085802975, 8.6552945301), (-7.0534230275, 9.7082039325))
            Line((-7.0534230275, 9.7082039325), (-6.6839378337, 7.4380760305))
        make_face()
        with BuildLine():
            Line((-7.0534230275, -9.7082039325), (-5.0085802975, -8.6552945301))
            ThreePointArc((-5.0085802975, -8.6552945301), (-5.8778525229, -8.0901699437), (-6.6839378337, -7.4380760305))
            Line((-6.6839378337, -7.4380760305), (-7.0534230275, -9.7082039325))
        make_face()
        with BuildLine():
            ThreePointArc((-8.0843407194, 5.885867407), (-7.4314482548, 6.6913060636), (-6.6986677214, 7.42481318))
            Line((-6.6986677214, 7.42481318), (-8.9177379057, 8.0295672763))
            Line((-8.9177379057, 8.0295672763), (-8.0843407194, 5.885867407))
        make_face()
        with BuildLine():
            Line((-8.9177379057, -8.0295672763), (-6.6986677214, -7.42481318))
            ThreePointArc((-6.6986677214, -7.42481318), (-7.4314482548, -6.6913060636), (-8.0843407194, -5.885867407))
            Line((-8.0843407194, -5.885867407), (-8.9177379057, -8.0295672763))
        make_face()
        with BuildLine():
            ThreePointArc((-9.1314191227, 4.0764181342), (-8.6602540378, 5), (-8.0959912221, 5.8698318658))
            Line((-8.0959912221, 5.8698318658), (-10.3923048454, 6))
            Line((-10.3923048454, 6), (-9.1314191227, 4.0764181342))
        make_face()
        with BuildLine():
            Line((-10.3923048454, -6), (-8.0959912221, -5.8698318658))
            ThreePointArc((-8.0959912221, -5.8698318658), (-8.6602540378, -5), (-9.1314191227, -4.0764181342))
            Line((-9.1314191227, -4.0764181342), (-10.3923048454, -6))
        make_face()
        with BuildLine():
            ThreePointArc((-9.779410693, 2.0888098282), (-9.510565163, 3.0901699437), (-9.1394810574, 4.0583107324))
            Line((-9.1394810574, 4.0583107324), (-11.4126781955, 3.7082039325))
            Line((-11.4126781955, 3.7082039325), (-9.779410693, 2.0888098282))
        make_face()
        with BuildLine():
            Line((-11.4126781955, -3.7082039325), (-9.1394810574, -4.0583107324))
            ThreePointArc((-9.1394810574, -4.0583107324), (-9.510565163, -3.0901699437), (-9.779410693, -2.0888098282))
            Line((-9.779410693, -2.0888098282), (-11.4126781955, -3.7082039325))
        make_face()
        with BuildLine():
            ThreePointArc((-9.9999950891, 0.0099105095), (-9.9452189537, 1.0452846327), (-9.7835317145, 2.0694219461))
            Line((-9.7835317145, 2.0694219461), (-11.9342627444, 1.2543415592))
            Line((-11.9342627444, 1.2543415592), (-9.9999950891, 0.0099105095))
        make_face()
        with BuildLine():
            Line((-11.9342627444, -1.2543415592), (-9.7835317145, -2.0694219461))
            ThreePointArc((-9.7835317145, -2.0694219461), (-9.9452189537, -1.0452846327), (-9.9999950891, -0.0099105095))
            Line((-9.9999950891, -0.0099105095), (-11.9342627444, -1.2543415592))
        make_face()
    extrude(amount=-F7_DEPTH)


with BuildPart() as f10:
    # F9 (on offset) → F10 (new body)
    with BuildSketch(Plane.XY.offset(-4.5)):
        with BuildLine():
            ThreePointArc((1.2483034277, -11.9348958333), (8.9157063975, -8.031822921), (12, 0))
            ThreePointArc((12, 0), (8.9157063975, 8.031822921), (1.2483034277, 11.9348958333))
            ThreePointArc((1.2483034276, 11.9348958333), (0, 10.75), (-1.2483034276, 11.9348958333))
            ThreePointArc((-1.2483034277, 11.9348958333), (-12, 0), (-1.2483034277, -11.9348958333))
            ThreePointArc((-1.2483034276, -11.9348958333), (0, -10.75), (1.2483034276, -11.9348958333))
        make_face()
        with BuildLine():
            ThreePointArc((-1.2483034276, 11.9348958333), (0, 10.75), (1.2483034276, 11.9348958333))
            ThreePointArc((1.2483034277, 11.9348958333), (0, 12), (-1.2483034277, 11.9348958333))
        make_face()
        with BuildLine():
            ThreePointArc((-1.2483034277, 11.9348958333), (0, 12), (1.2483034277, 11.9348958333))
            ThreePointArc((1.2483034276, 11.9348958333), (1.2495757849, 11.9674368656), (1.25, 12))
            ThreePointArc((1.25, 12), (-0.0325631344, 13.2495757849), (-1.2483034276, 11.9348958333))
        make_face()
        with BuildLine():
            ThreePointArc((1.25, -12), (1.2495757849, -11.9674368656), (1.2483034276, -11.9348958333))
            ThreePointArc((1.2483034277, -11.9348958333), (0, -12), (-1.2483034277, -11.9348958333))
            ThreePointArc((-1.2483034276, -11.9348958333), (-0.0325631344, -13.2495757849), (1.25, -12))
        make_face()
        with BuildLine():
            ThreePointArc((-1.2483034277, -11.9348958333), (0, -12), (1.2483034277, -11.9348958333))
            ThreePointArc((1.2483034276, -11.9348958333), (0, -10.75), (-1.2483034276, -11.9348958333))
        make_face()
    extrude(amount=-F10_DEPTH)


with BuildPart() as f12:
    # F11 (on offset) → F12 (new body)
    with BuildSketch(Plane.XY.offset(-4.5)):
        Circle(F11_R)
    extrude(amount=F12_DEPTH)


solid = Compound([f1.part, f5.part, f10.part, f12.part])
